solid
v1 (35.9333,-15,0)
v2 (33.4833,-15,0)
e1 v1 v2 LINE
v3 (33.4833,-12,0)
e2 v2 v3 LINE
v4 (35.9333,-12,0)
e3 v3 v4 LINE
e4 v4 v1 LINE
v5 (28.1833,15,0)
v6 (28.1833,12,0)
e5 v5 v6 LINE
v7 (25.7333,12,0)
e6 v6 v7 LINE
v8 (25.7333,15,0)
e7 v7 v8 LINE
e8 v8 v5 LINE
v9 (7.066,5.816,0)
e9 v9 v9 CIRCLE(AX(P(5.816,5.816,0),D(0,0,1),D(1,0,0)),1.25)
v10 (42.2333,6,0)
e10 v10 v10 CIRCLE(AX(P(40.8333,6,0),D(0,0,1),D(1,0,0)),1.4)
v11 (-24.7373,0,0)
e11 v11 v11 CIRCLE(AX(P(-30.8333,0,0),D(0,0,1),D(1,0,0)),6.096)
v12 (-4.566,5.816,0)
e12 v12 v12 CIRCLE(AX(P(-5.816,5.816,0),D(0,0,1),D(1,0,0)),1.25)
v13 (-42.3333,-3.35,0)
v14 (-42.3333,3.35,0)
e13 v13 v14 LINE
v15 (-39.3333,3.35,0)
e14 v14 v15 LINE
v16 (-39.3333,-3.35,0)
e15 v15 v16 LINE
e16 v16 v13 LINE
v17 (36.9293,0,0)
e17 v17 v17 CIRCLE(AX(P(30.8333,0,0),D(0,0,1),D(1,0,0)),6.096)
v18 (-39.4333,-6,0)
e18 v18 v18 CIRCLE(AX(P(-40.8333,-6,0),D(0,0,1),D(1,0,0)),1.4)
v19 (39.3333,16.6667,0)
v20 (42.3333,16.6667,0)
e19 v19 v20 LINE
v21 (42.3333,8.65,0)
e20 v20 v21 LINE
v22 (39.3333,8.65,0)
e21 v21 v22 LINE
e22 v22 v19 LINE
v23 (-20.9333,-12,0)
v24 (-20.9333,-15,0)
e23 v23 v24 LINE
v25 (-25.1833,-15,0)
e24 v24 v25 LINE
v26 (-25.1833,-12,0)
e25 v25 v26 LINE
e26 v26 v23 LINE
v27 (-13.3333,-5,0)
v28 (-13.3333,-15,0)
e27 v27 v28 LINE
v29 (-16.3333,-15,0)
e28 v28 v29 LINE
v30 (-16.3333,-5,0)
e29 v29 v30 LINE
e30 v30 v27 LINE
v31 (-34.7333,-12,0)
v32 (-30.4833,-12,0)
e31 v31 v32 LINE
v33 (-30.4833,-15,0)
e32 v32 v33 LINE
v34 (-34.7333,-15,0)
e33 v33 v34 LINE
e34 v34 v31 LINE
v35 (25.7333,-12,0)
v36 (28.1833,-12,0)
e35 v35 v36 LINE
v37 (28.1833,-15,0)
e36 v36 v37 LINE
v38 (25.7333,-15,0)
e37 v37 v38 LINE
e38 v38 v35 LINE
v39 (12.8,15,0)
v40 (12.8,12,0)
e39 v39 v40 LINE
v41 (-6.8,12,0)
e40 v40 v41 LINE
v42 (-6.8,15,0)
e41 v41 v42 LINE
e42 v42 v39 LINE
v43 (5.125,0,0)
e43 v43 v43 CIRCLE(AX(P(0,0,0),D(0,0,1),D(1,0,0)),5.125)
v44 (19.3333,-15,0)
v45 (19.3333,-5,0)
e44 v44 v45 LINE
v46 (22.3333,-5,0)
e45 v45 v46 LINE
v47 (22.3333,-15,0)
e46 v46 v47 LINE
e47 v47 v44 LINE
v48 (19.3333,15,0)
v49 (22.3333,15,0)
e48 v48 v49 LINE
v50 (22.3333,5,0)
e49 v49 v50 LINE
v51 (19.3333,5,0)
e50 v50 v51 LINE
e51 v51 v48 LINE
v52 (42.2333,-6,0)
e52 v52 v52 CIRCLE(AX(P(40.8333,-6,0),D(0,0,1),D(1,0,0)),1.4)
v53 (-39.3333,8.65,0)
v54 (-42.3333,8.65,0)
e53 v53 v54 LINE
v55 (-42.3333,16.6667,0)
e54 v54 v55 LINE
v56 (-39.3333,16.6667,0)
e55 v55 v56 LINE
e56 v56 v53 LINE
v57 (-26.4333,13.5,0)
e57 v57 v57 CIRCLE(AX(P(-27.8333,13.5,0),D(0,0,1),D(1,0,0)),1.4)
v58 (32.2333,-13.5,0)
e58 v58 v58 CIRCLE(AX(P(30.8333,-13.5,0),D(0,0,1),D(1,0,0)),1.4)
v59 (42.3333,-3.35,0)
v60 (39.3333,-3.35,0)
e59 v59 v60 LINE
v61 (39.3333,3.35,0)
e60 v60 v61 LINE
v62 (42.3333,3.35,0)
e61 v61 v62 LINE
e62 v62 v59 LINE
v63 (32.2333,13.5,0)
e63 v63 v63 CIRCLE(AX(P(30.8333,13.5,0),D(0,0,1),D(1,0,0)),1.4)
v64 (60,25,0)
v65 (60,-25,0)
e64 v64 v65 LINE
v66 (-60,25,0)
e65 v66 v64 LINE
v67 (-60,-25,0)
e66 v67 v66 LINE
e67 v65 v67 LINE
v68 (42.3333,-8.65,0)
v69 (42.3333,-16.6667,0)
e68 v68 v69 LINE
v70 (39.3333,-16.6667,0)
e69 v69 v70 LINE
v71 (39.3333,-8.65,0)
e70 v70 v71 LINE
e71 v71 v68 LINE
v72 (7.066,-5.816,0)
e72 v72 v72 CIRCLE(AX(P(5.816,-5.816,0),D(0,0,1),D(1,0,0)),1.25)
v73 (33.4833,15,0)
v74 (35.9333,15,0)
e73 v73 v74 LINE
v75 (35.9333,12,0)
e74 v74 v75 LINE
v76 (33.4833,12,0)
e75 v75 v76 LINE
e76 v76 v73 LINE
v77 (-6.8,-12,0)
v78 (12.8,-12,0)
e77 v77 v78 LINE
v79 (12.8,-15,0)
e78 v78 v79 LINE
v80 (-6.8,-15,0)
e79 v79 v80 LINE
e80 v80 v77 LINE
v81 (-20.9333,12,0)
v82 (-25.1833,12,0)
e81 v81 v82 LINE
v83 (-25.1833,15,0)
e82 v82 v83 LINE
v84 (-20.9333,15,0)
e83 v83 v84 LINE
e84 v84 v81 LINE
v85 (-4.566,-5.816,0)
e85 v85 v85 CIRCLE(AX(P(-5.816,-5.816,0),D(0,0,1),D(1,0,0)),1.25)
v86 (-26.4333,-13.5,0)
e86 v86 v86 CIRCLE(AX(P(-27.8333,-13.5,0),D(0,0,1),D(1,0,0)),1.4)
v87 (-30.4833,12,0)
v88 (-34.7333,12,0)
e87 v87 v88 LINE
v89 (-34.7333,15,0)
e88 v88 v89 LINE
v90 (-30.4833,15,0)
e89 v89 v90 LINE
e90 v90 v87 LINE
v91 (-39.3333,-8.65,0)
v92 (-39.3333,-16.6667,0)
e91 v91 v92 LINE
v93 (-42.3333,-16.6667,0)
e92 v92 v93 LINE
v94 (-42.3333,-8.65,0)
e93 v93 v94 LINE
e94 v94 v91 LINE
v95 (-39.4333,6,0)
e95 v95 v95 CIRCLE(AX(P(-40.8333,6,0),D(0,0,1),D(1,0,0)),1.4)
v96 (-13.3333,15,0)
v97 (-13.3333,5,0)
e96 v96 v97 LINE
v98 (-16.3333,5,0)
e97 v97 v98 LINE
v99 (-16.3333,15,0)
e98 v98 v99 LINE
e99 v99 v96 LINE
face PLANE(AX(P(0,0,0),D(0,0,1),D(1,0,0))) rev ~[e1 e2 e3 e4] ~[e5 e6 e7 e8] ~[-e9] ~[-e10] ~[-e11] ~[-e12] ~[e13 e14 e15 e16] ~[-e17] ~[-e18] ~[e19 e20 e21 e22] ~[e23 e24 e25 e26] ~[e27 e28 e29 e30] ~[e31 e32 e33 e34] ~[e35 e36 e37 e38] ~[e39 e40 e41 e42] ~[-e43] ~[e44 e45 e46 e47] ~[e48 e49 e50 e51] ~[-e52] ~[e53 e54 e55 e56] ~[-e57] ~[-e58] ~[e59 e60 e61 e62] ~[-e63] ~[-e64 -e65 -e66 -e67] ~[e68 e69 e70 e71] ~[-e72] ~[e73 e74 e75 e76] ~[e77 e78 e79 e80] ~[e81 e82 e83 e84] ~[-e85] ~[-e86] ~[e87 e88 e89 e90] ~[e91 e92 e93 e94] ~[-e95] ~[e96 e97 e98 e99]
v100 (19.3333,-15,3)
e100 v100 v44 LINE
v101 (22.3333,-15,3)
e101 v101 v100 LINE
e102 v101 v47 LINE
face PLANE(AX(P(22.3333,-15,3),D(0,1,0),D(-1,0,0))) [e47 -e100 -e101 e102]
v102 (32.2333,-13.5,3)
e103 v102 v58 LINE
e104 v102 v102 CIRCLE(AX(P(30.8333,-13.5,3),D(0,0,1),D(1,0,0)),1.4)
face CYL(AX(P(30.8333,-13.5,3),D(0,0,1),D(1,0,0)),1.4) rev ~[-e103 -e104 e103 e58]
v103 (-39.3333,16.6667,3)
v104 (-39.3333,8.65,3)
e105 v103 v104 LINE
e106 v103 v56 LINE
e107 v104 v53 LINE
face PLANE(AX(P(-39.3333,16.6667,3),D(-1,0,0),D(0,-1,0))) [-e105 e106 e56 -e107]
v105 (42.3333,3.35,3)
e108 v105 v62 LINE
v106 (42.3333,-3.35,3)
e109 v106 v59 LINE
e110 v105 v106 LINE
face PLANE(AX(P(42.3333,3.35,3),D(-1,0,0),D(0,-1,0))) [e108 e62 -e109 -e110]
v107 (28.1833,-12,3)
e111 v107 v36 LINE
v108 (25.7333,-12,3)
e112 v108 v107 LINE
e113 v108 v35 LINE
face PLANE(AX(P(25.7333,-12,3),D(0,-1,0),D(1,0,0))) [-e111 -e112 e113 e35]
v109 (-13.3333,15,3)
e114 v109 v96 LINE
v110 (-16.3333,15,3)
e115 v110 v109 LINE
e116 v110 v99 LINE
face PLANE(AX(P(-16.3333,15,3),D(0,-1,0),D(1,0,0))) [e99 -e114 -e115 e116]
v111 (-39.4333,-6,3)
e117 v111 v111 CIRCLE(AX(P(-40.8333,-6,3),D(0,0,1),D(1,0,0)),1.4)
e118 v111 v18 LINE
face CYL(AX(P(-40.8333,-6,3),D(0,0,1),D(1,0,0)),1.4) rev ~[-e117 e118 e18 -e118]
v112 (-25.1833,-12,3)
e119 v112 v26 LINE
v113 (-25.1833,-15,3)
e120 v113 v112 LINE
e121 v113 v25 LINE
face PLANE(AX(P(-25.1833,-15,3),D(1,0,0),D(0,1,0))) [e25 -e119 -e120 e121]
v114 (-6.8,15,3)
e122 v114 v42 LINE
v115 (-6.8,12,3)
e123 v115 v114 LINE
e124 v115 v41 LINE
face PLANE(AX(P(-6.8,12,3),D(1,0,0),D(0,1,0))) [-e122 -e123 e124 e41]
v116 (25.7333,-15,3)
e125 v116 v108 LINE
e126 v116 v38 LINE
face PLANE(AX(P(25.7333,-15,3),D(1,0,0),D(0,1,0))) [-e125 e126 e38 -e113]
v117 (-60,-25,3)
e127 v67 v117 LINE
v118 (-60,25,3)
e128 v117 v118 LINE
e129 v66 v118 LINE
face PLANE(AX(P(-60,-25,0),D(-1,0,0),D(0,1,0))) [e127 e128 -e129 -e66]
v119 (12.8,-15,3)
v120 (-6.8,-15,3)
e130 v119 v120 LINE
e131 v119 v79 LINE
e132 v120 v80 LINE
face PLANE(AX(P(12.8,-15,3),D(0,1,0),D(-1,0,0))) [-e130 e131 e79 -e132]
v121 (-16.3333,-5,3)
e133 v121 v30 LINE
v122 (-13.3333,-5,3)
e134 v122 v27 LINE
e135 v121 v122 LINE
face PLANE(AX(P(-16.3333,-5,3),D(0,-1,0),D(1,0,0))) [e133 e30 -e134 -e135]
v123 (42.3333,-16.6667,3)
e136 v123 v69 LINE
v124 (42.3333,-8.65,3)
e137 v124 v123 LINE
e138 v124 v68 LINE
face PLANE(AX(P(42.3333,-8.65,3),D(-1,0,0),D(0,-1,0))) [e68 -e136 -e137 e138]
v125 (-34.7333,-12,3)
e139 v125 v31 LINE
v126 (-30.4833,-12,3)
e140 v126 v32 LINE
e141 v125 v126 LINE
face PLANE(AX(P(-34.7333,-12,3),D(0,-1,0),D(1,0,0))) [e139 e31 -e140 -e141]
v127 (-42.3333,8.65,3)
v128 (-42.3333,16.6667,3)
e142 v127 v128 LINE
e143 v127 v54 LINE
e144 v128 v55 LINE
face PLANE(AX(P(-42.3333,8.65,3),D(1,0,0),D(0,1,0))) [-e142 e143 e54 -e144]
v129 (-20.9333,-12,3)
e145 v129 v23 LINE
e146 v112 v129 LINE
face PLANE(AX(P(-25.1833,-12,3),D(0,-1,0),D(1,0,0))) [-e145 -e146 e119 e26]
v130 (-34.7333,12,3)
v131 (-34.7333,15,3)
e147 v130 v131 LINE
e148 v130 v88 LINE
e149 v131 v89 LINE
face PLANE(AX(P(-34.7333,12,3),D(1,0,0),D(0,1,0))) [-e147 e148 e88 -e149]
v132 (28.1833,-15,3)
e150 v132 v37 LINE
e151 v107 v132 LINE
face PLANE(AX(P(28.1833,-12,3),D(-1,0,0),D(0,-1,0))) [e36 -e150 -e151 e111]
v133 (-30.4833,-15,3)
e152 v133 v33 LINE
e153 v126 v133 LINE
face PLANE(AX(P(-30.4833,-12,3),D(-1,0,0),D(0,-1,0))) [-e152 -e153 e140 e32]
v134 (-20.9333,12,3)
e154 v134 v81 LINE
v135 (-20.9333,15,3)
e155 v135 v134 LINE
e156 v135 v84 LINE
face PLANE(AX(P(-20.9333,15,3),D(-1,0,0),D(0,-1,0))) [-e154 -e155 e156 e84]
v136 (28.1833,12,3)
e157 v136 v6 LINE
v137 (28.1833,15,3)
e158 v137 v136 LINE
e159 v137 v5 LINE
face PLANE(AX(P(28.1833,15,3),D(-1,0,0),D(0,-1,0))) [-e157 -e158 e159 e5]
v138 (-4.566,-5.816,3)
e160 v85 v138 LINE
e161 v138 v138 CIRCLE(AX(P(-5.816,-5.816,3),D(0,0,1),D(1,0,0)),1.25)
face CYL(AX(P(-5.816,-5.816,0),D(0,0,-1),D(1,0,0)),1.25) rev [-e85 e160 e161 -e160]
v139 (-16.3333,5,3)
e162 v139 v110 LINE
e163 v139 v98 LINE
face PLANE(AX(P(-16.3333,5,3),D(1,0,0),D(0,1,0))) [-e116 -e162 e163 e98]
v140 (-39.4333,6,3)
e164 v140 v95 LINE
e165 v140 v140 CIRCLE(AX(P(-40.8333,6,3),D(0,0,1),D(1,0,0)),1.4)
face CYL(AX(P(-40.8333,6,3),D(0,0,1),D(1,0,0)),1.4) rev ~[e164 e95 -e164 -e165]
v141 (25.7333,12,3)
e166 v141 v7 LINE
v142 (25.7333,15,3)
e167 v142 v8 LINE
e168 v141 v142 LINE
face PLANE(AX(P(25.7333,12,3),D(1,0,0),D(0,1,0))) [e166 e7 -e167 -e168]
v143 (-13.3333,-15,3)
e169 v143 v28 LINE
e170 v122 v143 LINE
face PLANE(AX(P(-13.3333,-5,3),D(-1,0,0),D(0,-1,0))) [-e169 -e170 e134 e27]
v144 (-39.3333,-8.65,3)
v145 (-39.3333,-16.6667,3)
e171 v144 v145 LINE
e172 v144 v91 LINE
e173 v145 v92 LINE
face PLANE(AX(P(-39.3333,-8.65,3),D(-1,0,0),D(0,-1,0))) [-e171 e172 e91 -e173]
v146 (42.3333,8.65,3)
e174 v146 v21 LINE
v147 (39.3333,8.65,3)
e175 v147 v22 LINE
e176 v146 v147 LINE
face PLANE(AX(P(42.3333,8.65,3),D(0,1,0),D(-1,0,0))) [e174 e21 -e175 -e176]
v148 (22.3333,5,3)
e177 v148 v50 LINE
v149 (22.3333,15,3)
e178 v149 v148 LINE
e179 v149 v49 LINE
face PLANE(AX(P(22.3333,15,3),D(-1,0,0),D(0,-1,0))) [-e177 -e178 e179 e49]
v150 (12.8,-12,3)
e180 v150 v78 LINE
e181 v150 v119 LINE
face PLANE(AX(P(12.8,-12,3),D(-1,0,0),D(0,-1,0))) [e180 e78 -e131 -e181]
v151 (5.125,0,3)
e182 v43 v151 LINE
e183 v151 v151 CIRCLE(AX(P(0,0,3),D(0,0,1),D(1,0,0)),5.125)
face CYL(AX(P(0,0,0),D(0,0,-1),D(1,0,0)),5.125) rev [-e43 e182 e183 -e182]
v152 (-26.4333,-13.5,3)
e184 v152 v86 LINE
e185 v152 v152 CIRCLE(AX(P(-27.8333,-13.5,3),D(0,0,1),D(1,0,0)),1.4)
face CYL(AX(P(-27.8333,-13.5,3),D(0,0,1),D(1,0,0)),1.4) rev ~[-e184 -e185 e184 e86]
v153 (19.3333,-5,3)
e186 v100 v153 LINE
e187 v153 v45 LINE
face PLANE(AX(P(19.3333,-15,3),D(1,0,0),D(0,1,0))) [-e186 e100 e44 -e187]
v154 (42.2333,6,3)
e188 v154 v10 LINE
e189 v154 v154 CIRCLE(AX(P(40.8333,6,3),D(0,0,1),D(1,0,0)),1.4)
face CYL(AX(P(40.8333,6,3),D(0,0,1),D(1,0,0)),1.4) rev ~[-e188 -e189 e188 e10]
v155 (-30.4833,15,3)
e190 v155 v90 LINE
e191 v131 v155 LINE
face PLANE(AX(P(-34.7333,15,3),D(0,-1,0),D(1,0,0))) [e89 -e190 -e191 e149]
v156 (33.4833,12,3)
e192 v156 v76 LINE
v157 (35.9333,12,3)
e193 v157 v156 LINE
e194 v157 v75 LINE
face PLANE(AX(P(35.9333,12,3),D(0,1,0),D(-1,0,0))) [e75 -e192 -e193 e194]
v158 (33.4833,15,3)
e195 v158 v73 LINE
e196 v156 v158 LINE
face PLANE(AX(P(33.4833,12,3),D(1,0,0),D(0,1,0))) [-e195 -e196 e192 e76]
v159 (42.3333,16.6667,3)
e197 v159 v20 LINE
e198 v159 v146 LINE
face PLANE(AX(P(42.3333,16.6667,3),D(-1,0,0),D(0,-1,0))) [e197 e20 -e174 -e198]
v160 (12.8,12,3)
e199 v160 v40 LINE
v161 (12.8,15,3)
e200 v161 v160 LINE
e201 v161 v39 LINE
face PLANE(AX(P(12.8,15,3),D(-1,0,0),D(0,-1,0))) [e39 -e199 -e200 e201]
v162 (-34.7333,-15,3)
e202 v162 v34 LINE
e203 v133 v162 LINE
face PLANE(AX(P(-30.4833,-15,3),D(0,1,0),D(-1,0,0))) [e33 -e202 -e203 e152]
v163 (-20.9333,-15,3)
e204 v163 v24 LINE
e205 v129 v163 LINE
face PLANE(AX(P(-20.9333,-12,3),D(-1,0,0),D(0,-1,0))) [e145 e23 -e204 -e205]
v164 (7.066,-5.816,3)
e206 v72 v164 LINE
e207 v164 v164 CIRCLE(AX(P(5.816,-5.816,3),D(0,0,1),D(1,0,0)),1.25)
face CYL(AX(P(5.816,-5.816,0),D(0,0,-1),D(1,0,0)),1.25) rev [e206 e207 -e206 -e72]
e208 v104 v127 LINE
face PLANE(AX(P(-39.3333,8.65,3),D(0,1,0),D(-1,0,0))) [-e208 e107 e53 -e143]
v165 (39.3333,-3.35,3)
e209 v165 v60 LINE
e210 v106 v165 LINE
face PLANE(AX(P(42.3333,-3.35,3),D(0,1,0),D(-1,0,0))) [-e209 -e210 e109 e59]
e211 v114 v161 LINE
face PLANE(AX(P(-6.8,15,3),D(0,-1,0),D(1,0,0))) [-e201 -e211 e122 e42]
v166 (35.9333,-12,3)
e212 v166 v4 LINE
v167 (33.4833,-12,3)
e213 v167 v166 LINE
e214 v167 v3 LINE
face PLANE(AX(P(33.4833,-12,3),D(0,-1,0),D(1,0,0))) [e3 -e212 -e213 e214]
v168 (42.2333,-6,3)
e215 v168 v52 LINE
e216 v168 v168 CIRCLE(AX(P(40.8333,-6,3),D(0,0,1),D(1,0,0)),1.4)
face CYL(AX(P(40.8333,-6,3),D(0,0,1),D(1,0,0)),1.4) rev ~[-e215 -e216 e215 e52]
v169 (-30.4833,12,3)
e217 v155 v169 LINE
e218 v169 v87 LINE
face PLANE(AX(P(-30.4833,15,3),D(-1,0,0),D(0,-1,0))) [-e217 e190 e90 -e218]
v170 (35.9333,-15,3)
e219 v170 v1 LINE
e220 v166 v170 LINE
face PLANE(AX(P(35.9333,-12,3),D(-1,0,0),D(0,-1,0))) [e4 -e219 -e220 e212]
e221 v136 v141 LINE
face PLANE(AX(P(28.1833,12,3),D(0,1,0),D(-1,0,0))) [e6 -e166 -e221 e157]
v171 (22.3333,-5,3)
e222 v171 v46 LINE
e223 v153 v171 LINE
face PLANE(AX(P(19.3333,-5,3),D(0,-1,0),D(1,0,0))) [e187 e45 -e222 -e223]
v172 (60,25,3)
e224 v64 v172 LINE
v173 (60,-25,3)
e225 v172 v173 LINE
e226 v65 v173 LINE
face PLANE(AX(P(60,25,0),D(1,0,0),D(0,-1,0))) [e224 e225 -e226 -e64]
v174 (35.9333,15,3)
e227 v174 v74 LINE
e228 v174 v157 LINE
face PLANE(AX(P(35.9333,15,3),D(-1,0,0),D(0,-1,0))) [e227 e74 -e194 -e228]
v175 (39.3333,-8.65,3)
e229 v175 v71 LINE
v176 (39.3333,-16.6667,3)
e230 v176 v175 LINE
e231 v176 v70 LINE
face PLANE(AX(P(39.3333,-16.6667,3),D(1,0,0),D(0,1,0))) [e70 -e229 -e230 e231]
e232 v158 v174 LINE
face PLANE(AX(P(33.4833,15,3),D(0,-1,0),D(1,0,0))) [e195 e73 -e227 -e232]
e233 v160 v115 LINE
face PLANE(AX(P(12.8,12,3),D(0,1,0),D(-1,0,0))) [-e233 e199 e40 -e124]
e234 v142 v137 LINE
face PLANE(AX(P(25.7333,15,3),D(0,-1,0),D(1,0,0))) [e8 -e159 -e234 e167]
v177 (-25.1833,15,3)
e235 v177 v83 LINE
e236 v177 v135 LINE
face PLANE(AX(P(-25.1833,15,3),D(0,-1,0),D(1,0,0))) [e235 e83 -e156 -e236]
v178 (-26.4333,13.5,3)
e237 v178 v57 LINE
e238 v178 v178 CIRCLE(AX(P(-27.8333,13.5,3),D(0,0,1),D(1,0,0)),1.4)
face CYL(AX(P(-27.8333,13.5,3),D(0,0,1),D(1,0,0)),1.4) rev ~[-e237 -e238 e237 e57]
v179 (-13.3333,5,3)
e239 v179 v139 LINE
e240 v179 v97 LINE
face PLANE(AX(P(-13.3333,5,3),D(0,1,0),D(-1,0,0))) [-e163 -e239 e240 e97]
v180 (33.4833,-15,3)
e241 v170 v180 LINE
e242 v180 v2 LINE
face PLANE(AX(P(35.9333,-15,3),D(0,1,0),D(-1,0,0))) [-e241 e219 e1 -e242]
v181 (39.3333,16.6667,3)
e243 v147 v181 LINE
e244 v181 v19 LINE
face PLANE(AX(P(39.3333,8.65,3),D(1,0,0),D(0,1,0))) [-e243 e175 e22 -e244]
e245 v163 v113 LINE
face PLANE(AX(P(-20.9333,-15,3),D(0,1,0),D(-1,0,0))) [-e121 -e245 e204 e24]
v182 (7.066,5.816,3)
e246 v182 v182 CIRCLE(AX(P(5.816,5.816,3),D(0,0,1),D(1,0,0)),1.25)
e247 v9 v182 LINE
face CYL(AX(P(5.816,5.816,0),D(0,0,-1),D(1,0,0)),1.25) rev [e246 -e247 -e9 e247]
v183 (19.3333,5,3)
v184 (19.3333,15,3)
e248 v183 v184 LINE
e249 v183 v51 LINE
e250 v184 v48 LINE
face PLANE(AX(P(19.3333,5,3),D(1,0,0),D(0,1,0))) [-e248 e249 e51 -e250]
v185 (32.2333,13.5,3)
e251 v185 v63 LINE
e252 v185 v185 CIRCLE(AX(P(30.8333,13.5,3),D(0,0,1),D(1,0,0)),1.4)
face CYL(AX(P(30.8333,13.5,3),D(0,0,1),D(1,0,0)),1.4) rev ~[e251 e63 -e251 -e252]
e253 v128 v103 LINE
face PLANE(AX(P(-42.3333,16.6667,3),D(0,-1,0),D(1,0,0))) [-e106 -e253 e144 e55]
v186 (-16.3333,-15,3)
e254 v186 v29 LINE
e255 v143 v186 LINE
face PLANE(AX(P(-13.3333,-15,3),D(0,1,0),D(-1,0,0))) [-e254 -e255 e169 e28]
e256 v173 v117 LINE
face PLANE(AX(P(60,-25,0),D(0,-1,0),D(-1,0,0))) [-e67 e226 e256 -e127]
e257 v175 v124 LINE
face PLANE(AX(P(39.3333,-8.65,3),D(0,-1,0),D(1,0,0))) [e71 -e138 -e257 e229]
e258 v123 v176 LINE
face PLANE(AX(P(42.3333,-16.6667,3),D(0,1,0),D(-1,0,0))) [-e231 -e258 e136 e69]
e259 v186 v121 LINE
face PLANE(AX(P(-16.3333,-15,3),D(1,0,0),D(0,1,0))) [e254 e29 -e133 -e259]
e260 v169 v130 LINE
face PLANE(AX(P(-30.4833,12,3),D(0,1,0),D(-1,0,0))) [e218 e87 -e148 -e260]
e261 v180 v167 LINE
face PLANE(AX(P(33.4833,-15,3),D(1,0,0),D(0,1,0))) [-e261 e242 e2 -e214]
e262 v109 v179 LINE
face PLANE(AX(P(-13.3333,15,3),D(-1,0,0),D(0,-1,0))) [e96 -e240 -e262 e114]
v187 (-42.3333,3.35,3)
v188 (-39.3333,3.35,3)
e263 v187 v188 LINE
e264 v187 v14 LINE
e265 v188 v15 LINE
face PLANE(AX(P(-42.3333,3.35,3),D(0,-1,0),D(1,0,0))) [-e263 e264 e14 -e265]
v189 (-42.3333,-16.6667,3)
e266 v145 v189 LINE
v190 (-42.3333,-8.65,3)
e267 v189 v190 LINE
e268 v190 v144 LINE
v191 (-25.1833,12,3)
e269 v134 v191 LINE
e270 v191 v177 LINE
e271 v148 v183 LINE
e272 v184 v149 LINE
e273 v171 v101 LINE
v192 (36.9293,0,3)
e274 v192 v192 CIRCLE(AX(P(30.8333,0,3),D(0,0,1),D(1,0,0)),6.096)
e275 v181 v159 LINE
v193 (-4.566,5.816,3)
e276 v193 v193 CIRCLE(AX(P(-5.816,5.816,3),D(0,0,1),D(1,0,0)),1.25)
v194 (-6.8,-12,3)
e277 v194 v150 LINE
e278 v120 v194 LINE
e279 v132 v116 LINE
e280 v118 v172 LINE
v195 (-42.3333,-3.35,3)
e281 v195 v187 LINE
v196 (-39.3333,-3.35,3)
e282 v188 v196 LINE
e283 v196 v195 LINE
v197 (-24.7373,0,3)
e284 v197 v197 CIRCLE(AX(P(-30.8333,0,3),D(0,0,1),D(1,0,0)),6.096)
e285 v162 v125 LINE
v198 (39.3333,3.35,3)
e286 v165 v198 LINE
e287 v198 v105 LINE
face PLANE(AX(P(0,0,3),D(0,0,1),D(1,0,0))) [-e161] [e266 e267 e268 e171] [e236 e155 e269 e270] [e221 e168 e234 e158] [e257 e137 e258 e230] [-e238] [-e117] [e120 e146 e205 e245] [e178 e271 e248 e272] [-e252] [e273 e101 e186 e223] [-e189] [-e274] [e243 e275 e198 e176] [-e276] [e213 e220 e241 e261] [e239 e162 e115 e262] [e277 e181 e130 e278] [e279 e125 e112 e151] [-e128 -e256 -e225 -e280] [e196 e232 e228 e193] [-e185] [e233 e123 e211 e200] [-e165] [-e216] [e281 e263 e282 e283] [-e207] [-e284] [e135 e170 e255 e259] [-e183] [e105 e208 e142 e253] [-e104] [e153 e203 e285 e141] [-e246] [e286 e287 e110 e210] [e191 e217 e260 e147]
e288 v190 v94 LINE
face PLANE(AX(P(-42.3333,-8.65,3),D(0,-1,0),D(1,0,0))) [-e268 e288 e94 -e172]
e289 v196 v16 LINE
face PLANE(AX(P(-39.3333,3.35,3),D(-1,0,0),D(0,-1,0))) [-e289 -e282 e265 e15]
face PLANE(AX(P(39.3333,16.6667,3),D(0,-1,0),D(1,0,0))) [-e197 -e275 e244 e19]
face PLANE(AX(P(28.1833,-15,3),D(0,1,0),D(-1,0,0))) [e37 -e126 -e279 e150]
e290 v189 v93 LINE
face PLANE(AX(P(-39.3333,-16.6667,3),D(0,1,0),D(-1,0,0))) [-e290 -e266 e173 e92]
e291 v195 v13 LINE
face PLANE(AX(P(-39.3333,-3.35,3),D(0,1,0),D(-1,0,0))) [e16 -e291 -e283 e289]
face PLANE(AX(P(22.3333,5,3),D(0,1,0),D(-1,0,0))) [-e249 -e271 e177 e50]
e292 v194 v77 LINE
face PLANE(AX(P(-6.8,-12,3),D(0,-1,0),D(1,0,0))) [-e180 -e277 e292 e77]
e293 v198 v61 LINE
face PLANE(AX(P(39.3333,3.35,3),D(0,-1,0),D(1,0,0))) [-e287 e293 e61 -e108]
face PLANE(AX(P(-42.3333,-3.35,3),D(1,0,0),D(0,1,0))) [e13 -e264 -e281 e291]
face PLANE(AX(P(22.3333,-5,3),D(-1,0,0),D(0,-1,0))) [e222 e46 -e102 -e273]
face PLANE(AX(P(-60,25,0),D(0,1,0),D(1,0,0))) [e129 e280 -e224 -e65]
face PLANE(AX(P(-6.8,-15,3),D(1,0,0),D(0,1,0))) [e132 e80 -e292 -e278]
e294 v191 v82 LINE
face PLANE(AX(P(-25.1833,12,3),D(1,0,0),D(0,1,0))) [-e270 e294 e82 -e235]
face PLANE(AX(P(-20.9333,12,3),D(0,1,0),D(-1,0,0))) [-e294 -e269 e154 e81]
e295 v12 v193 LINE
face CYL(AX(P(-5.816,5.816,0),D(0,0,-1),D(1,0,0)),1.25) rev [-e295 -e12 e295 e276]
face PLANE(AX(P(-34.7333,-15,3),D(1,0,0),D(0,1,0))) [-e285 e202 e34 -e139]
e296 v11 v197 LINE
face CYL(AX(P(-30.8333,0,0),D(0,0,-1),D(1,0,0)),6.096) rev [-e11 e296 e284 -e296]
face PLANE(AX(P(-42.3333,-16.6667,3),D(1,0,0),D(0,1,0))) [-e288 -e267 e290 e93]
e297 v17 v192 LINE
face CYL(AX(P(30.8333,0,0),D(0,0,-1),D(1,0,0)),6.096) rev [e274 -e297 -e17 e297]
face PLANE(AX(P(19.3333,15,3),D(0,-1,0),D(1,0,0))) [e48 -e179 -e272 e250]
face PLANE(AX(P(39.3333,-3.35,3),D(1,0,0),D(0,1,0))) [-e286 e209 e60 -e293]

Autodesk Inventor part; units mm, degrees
ref_plane "YZ Plane" through (0, 0, 0) normal (1, 0, 0) x (0, 1, 0)
ref_plane "XZ Plane" through (0, 0, 0) normal (0, 1, 0) x (-1, 0, 0)
ref_plane "XY Plane" through (0, 0, 0) normal (0, 0, 1) x (1, 0, 0)
sketch "Sketch1" plane through (0, 0, 0) normal (0, 0, 1) x (1, 0, 0)
  circle A0 centre (-5.816, 5.816) radius 1.25
  circle A1 centre (5.816, 5.816) radius 1.25
  circle A2 centre (5.816, -5.816) radius 1.25
  circle A3 centre (-5.816, -5.816) radius 1.25
  circle A4 centre (0, 0) radius 11
  circle A5 centre (0, 0) radius 5.125
  circle A6 centre (30.8333, 0) radius 6.096
  circle A7 centre (-30.8333, 0) radius 6.096
  line L0 (30.8333, 0) -> (-30.8333, 0) construction
  line L1 (-60, 25) -> (60, 25)
  line L2 (60, 25) -> (60, -25)
  line L3 (60, -25) -> (-60, -25)
  line L4 (-60, -25) -> (-60, 25)
  line L5 (0, 25) -> (0, -25) construction
  point P0 (0, 0)
  dimension "d9" = 2.5
  dimension "d10" = 2.5
  dimension "d11" = 2.5
  dimension "d12" = 2.5
  dimension "d33" = 120
  dimension "d34" = 50
extrude "Extrusion1" add sketch "Sketch1" along normal blind 3 contours A4 | L1 L2 L3 L4
sketch "Sketch2" plane through (0, 0, 3) normal (0, 0, 1) x (1, 0, 0)
  line L0 (42.3333, -16.6667) -> (39.3333, -16.6667)
  line L1 (39.3333, -16.6667) -> (39.3333, -8.65)
  line L2 (39.3333, -8.65) -> (42.3333, -8.65)
  line L3 (42.3333, -8.65) -> (42.3333, -16.6667)
  line L4 (39.3333, 3.35) -> (42.3333, 3.35)
  line L5 (42.3333, 3.35) -> (42.3333, -3.35)
  line L6 (42.3333, -3.35) -> (39.3333, -3.35)
  line L7 (39.3333, -3.35) -> (39.3333, 3.35)
  line L8 (42.3333, 8.65) -> (39.3333, 8.65)
  line L9 (39.3333, 8.65) -> (39.3333, 16.6667)
  line L10 (39.3333, 16.6667) -> (42.3333, 16.6667)
  line L11 (42.3333, 16.6667) -> (42.3333, 8.65)
  line L12 (-39.3333, -16.6667) -> (-42.3333, -16.6667)
  line L13 (-42.3333, -16.6667) -> (-42.3333, -8.65)
  line L14 (-42.3333, -8.65) -> (-39.3333, -8.65)
  line L15 (-39.3333, -8.65) -> (-39.3333, -16.6667)
  line L16 (-42.3333, 3.35) -> (-39.3333, 3.35)
  line L17 (-39.3333, 3.35) -> (-39.3333, -3.35)
  line L18 (-39.3333, -3.35) -> (-42.3333, -3.35)
  line L19 (-42.3333, -3.35) -> (-42.3333, 3.35)
  line L20 (-39.3333, 8.65) -> (-42.3333, 8.65)
  line L21 (-42.3333, 8.65) -> (-42.3333, 16.6667)
  line L22 (-42.3333, 16.6667) -> (-39.3333, 16.6667)
  line L23 (-39.3333, 16.6667) -> (-39.3333, 8.65)
  line L24 (19.3333, -5) -> (22.3333, -5)
  line L25 (22.3333, -5) -> (22.3333, -15)
  line L26 (22.3333, -15) -> (19.3333, -15)
  line L27 (19.3333, -15) -> (19.3333, -5)
  line L28 (22.3333, 5) -> (19.3333, 5)
  line L29 (19.3333, 5) -> (19.3333, 15)
  line L30 (19.3333, 15) -> (22.3333, 15)
  line L31 (22.3333, 15) -> (22.3333, 5)
  circle A0 centre (40.8333, 6) radius 1.4
  circle A1 centre (40.8333, -6) radius 1.4
  circle A2 centre (-40.8333, 6) radius 1.4
  circle A3 centre (-40.8333, -6) radius 1.4
  line L32 (33.4833, 12) -> (33.4833, 15)
  line L33 (33.4833, 15) -> (35.9333, 15)
  line L34 (35.9333, 15) -> (35.9333, 12)
  line L35 (35.9333, 12) -> (33.4833, 12)
  line L36 (28.1833, 15) -> (28.1833, 12)
  line L37 (28.1833, 12) -> (25.7333, 12)
  line L38 (25.7333, 12) -> (25.7333, 15)
  line L39 (25.7333, 15) -> (28.1833, 15)
  line L40 (-25.1833, 12) -> (-25.1833, 15)
  line L41 (-25.1833, 15) -> (-20.9333, 15)
  line L42 (-20.9333, 15) -> (-20.9333, 12)
  line L43 (-20.9333, 12) -> (-25.1833, 12)
  line L44 (-30.4833, 15) -> (-30.4833, 12)
  line L45 (-30.4833, 12) -> (-34.7333, 12)
  line L46 (-34.7333, 12) -> (-34.7333, 15)
  line L47 (-34.7333, 15) -> (-30.4833, 15)
  line L48 (12.8, 12) -> (-6.8, 12)
  line L49 (-6.8, 12) -> (-6.8, 15)
  line L50 (-6.8, 15) -> (12.8, 15)
  line L51 (12.8, 15) -> (12.8, 12)
  line L52 (-16.3333, -5) -> (-13.3333, -5)
  line L53 (-13.3333, -5) -> (-13.3333, -15)
  line L54 (-13.3333, -15) -> (-16.3333, -15)
  line L55 (-16.3333, -15) -> (-16.3333, -5)
  line L56 (-13.3333, 5) -> (-16.3333, 5)
  line L57 (-16.3333, 5) -> (-16.3333, 15)
  line L58 (-16.3333, 15) -> (-13.3333, 15)
  line L59 (-13.3333, 15) -> (-13.3333, 5)
  line L60 (-30.4833, -12) -> (-30.4833, -15)
  line L61 (-30.4833, -15) -> (-34.7333, -15)
  line L62 (-34.7333, -15) -> (-34.7333, -12)
  line L63 (-34.7333, -12) -> (-30.4833, -12)
  line L64 (-25.1833, -15) -> (-25.1833, -12)
  line L65 (-25.1833, -12) -> (-20.9333, -12)
  line L66 (-20.9333, -12) -> (-20.9333, -15)
  line L67 (-20.9333, -15) -> (-25.1833, -15)
  line L68 (28.1833, -12) -> (28.1833, -15)
  line L69 (28.1833, -15) -> (25.7333, -15)
  line L70 (25.7333, -15) -> (25.7333, -12)
  line L71 (25.7333, -12) -> (28.1833, -12)
  line L72 (33.4833, -15) -> (33.4833, -12)
  line L73 (33.4833, -12) -> (35.9333, -12)
  line L74 (35.9333, -12) -> (35.9333, -15)
  line L75 (35.9333, -15) -> (33.4833, -15)
  line L76 (-6.8, -12) -> (12.8, -12)
  line L77 (12.8, -12) -> (12.8, -15)
  line L78 (12.8, -15) -> (-6.8, -15)
  line L79 (-6.8, -15) -> (-6.8, -12)
  circle A4 centre (-27.8333, 13.5) radius 1.4
  circle A5 centre (-27.8333, -13.5) radius 1.4
  circle A6 centre (30.8333, -13.5) radius 1.4
  circle A7 centre (30.8333, 13.5) radius 1.4
  point P0 (0, 0)
  dimension "d35" = 2.8
  dimension "d36" = 2.8
  dimension "d37" = 5.3
  dimension "d38" = 2.65
  dimension "d39" = 2.65
  dimension "d40" = 2.8
  dimension "d41" = 2.8
  dimension "d42" = 2.65
  dimension "d43" = 2.65
  dimension "d44" = 2.8
  dimension "d45" = 5.3
  dimension "d46" = 2.65
  dimension "d47" = 2.8
  dimension "d48" = 2.8
  dimension "d49" = 5.3
  dimension "d50" = 2.65
  dimension "d51" = 2.8
extrude "Extrusion2" cut sketch "Sketch2" against normal blind 3
equation "\"d38\" = 0.5 * d37"
equation "\"d39\" = d38"
equation "\"d42\" = d38"
equation "\"d43\" = d42"
equation "\"d46\" = 0.5 * d45"
equation "\"d50\" = 0.5 * d49"
properties part number "Camera-Holder_Front"
